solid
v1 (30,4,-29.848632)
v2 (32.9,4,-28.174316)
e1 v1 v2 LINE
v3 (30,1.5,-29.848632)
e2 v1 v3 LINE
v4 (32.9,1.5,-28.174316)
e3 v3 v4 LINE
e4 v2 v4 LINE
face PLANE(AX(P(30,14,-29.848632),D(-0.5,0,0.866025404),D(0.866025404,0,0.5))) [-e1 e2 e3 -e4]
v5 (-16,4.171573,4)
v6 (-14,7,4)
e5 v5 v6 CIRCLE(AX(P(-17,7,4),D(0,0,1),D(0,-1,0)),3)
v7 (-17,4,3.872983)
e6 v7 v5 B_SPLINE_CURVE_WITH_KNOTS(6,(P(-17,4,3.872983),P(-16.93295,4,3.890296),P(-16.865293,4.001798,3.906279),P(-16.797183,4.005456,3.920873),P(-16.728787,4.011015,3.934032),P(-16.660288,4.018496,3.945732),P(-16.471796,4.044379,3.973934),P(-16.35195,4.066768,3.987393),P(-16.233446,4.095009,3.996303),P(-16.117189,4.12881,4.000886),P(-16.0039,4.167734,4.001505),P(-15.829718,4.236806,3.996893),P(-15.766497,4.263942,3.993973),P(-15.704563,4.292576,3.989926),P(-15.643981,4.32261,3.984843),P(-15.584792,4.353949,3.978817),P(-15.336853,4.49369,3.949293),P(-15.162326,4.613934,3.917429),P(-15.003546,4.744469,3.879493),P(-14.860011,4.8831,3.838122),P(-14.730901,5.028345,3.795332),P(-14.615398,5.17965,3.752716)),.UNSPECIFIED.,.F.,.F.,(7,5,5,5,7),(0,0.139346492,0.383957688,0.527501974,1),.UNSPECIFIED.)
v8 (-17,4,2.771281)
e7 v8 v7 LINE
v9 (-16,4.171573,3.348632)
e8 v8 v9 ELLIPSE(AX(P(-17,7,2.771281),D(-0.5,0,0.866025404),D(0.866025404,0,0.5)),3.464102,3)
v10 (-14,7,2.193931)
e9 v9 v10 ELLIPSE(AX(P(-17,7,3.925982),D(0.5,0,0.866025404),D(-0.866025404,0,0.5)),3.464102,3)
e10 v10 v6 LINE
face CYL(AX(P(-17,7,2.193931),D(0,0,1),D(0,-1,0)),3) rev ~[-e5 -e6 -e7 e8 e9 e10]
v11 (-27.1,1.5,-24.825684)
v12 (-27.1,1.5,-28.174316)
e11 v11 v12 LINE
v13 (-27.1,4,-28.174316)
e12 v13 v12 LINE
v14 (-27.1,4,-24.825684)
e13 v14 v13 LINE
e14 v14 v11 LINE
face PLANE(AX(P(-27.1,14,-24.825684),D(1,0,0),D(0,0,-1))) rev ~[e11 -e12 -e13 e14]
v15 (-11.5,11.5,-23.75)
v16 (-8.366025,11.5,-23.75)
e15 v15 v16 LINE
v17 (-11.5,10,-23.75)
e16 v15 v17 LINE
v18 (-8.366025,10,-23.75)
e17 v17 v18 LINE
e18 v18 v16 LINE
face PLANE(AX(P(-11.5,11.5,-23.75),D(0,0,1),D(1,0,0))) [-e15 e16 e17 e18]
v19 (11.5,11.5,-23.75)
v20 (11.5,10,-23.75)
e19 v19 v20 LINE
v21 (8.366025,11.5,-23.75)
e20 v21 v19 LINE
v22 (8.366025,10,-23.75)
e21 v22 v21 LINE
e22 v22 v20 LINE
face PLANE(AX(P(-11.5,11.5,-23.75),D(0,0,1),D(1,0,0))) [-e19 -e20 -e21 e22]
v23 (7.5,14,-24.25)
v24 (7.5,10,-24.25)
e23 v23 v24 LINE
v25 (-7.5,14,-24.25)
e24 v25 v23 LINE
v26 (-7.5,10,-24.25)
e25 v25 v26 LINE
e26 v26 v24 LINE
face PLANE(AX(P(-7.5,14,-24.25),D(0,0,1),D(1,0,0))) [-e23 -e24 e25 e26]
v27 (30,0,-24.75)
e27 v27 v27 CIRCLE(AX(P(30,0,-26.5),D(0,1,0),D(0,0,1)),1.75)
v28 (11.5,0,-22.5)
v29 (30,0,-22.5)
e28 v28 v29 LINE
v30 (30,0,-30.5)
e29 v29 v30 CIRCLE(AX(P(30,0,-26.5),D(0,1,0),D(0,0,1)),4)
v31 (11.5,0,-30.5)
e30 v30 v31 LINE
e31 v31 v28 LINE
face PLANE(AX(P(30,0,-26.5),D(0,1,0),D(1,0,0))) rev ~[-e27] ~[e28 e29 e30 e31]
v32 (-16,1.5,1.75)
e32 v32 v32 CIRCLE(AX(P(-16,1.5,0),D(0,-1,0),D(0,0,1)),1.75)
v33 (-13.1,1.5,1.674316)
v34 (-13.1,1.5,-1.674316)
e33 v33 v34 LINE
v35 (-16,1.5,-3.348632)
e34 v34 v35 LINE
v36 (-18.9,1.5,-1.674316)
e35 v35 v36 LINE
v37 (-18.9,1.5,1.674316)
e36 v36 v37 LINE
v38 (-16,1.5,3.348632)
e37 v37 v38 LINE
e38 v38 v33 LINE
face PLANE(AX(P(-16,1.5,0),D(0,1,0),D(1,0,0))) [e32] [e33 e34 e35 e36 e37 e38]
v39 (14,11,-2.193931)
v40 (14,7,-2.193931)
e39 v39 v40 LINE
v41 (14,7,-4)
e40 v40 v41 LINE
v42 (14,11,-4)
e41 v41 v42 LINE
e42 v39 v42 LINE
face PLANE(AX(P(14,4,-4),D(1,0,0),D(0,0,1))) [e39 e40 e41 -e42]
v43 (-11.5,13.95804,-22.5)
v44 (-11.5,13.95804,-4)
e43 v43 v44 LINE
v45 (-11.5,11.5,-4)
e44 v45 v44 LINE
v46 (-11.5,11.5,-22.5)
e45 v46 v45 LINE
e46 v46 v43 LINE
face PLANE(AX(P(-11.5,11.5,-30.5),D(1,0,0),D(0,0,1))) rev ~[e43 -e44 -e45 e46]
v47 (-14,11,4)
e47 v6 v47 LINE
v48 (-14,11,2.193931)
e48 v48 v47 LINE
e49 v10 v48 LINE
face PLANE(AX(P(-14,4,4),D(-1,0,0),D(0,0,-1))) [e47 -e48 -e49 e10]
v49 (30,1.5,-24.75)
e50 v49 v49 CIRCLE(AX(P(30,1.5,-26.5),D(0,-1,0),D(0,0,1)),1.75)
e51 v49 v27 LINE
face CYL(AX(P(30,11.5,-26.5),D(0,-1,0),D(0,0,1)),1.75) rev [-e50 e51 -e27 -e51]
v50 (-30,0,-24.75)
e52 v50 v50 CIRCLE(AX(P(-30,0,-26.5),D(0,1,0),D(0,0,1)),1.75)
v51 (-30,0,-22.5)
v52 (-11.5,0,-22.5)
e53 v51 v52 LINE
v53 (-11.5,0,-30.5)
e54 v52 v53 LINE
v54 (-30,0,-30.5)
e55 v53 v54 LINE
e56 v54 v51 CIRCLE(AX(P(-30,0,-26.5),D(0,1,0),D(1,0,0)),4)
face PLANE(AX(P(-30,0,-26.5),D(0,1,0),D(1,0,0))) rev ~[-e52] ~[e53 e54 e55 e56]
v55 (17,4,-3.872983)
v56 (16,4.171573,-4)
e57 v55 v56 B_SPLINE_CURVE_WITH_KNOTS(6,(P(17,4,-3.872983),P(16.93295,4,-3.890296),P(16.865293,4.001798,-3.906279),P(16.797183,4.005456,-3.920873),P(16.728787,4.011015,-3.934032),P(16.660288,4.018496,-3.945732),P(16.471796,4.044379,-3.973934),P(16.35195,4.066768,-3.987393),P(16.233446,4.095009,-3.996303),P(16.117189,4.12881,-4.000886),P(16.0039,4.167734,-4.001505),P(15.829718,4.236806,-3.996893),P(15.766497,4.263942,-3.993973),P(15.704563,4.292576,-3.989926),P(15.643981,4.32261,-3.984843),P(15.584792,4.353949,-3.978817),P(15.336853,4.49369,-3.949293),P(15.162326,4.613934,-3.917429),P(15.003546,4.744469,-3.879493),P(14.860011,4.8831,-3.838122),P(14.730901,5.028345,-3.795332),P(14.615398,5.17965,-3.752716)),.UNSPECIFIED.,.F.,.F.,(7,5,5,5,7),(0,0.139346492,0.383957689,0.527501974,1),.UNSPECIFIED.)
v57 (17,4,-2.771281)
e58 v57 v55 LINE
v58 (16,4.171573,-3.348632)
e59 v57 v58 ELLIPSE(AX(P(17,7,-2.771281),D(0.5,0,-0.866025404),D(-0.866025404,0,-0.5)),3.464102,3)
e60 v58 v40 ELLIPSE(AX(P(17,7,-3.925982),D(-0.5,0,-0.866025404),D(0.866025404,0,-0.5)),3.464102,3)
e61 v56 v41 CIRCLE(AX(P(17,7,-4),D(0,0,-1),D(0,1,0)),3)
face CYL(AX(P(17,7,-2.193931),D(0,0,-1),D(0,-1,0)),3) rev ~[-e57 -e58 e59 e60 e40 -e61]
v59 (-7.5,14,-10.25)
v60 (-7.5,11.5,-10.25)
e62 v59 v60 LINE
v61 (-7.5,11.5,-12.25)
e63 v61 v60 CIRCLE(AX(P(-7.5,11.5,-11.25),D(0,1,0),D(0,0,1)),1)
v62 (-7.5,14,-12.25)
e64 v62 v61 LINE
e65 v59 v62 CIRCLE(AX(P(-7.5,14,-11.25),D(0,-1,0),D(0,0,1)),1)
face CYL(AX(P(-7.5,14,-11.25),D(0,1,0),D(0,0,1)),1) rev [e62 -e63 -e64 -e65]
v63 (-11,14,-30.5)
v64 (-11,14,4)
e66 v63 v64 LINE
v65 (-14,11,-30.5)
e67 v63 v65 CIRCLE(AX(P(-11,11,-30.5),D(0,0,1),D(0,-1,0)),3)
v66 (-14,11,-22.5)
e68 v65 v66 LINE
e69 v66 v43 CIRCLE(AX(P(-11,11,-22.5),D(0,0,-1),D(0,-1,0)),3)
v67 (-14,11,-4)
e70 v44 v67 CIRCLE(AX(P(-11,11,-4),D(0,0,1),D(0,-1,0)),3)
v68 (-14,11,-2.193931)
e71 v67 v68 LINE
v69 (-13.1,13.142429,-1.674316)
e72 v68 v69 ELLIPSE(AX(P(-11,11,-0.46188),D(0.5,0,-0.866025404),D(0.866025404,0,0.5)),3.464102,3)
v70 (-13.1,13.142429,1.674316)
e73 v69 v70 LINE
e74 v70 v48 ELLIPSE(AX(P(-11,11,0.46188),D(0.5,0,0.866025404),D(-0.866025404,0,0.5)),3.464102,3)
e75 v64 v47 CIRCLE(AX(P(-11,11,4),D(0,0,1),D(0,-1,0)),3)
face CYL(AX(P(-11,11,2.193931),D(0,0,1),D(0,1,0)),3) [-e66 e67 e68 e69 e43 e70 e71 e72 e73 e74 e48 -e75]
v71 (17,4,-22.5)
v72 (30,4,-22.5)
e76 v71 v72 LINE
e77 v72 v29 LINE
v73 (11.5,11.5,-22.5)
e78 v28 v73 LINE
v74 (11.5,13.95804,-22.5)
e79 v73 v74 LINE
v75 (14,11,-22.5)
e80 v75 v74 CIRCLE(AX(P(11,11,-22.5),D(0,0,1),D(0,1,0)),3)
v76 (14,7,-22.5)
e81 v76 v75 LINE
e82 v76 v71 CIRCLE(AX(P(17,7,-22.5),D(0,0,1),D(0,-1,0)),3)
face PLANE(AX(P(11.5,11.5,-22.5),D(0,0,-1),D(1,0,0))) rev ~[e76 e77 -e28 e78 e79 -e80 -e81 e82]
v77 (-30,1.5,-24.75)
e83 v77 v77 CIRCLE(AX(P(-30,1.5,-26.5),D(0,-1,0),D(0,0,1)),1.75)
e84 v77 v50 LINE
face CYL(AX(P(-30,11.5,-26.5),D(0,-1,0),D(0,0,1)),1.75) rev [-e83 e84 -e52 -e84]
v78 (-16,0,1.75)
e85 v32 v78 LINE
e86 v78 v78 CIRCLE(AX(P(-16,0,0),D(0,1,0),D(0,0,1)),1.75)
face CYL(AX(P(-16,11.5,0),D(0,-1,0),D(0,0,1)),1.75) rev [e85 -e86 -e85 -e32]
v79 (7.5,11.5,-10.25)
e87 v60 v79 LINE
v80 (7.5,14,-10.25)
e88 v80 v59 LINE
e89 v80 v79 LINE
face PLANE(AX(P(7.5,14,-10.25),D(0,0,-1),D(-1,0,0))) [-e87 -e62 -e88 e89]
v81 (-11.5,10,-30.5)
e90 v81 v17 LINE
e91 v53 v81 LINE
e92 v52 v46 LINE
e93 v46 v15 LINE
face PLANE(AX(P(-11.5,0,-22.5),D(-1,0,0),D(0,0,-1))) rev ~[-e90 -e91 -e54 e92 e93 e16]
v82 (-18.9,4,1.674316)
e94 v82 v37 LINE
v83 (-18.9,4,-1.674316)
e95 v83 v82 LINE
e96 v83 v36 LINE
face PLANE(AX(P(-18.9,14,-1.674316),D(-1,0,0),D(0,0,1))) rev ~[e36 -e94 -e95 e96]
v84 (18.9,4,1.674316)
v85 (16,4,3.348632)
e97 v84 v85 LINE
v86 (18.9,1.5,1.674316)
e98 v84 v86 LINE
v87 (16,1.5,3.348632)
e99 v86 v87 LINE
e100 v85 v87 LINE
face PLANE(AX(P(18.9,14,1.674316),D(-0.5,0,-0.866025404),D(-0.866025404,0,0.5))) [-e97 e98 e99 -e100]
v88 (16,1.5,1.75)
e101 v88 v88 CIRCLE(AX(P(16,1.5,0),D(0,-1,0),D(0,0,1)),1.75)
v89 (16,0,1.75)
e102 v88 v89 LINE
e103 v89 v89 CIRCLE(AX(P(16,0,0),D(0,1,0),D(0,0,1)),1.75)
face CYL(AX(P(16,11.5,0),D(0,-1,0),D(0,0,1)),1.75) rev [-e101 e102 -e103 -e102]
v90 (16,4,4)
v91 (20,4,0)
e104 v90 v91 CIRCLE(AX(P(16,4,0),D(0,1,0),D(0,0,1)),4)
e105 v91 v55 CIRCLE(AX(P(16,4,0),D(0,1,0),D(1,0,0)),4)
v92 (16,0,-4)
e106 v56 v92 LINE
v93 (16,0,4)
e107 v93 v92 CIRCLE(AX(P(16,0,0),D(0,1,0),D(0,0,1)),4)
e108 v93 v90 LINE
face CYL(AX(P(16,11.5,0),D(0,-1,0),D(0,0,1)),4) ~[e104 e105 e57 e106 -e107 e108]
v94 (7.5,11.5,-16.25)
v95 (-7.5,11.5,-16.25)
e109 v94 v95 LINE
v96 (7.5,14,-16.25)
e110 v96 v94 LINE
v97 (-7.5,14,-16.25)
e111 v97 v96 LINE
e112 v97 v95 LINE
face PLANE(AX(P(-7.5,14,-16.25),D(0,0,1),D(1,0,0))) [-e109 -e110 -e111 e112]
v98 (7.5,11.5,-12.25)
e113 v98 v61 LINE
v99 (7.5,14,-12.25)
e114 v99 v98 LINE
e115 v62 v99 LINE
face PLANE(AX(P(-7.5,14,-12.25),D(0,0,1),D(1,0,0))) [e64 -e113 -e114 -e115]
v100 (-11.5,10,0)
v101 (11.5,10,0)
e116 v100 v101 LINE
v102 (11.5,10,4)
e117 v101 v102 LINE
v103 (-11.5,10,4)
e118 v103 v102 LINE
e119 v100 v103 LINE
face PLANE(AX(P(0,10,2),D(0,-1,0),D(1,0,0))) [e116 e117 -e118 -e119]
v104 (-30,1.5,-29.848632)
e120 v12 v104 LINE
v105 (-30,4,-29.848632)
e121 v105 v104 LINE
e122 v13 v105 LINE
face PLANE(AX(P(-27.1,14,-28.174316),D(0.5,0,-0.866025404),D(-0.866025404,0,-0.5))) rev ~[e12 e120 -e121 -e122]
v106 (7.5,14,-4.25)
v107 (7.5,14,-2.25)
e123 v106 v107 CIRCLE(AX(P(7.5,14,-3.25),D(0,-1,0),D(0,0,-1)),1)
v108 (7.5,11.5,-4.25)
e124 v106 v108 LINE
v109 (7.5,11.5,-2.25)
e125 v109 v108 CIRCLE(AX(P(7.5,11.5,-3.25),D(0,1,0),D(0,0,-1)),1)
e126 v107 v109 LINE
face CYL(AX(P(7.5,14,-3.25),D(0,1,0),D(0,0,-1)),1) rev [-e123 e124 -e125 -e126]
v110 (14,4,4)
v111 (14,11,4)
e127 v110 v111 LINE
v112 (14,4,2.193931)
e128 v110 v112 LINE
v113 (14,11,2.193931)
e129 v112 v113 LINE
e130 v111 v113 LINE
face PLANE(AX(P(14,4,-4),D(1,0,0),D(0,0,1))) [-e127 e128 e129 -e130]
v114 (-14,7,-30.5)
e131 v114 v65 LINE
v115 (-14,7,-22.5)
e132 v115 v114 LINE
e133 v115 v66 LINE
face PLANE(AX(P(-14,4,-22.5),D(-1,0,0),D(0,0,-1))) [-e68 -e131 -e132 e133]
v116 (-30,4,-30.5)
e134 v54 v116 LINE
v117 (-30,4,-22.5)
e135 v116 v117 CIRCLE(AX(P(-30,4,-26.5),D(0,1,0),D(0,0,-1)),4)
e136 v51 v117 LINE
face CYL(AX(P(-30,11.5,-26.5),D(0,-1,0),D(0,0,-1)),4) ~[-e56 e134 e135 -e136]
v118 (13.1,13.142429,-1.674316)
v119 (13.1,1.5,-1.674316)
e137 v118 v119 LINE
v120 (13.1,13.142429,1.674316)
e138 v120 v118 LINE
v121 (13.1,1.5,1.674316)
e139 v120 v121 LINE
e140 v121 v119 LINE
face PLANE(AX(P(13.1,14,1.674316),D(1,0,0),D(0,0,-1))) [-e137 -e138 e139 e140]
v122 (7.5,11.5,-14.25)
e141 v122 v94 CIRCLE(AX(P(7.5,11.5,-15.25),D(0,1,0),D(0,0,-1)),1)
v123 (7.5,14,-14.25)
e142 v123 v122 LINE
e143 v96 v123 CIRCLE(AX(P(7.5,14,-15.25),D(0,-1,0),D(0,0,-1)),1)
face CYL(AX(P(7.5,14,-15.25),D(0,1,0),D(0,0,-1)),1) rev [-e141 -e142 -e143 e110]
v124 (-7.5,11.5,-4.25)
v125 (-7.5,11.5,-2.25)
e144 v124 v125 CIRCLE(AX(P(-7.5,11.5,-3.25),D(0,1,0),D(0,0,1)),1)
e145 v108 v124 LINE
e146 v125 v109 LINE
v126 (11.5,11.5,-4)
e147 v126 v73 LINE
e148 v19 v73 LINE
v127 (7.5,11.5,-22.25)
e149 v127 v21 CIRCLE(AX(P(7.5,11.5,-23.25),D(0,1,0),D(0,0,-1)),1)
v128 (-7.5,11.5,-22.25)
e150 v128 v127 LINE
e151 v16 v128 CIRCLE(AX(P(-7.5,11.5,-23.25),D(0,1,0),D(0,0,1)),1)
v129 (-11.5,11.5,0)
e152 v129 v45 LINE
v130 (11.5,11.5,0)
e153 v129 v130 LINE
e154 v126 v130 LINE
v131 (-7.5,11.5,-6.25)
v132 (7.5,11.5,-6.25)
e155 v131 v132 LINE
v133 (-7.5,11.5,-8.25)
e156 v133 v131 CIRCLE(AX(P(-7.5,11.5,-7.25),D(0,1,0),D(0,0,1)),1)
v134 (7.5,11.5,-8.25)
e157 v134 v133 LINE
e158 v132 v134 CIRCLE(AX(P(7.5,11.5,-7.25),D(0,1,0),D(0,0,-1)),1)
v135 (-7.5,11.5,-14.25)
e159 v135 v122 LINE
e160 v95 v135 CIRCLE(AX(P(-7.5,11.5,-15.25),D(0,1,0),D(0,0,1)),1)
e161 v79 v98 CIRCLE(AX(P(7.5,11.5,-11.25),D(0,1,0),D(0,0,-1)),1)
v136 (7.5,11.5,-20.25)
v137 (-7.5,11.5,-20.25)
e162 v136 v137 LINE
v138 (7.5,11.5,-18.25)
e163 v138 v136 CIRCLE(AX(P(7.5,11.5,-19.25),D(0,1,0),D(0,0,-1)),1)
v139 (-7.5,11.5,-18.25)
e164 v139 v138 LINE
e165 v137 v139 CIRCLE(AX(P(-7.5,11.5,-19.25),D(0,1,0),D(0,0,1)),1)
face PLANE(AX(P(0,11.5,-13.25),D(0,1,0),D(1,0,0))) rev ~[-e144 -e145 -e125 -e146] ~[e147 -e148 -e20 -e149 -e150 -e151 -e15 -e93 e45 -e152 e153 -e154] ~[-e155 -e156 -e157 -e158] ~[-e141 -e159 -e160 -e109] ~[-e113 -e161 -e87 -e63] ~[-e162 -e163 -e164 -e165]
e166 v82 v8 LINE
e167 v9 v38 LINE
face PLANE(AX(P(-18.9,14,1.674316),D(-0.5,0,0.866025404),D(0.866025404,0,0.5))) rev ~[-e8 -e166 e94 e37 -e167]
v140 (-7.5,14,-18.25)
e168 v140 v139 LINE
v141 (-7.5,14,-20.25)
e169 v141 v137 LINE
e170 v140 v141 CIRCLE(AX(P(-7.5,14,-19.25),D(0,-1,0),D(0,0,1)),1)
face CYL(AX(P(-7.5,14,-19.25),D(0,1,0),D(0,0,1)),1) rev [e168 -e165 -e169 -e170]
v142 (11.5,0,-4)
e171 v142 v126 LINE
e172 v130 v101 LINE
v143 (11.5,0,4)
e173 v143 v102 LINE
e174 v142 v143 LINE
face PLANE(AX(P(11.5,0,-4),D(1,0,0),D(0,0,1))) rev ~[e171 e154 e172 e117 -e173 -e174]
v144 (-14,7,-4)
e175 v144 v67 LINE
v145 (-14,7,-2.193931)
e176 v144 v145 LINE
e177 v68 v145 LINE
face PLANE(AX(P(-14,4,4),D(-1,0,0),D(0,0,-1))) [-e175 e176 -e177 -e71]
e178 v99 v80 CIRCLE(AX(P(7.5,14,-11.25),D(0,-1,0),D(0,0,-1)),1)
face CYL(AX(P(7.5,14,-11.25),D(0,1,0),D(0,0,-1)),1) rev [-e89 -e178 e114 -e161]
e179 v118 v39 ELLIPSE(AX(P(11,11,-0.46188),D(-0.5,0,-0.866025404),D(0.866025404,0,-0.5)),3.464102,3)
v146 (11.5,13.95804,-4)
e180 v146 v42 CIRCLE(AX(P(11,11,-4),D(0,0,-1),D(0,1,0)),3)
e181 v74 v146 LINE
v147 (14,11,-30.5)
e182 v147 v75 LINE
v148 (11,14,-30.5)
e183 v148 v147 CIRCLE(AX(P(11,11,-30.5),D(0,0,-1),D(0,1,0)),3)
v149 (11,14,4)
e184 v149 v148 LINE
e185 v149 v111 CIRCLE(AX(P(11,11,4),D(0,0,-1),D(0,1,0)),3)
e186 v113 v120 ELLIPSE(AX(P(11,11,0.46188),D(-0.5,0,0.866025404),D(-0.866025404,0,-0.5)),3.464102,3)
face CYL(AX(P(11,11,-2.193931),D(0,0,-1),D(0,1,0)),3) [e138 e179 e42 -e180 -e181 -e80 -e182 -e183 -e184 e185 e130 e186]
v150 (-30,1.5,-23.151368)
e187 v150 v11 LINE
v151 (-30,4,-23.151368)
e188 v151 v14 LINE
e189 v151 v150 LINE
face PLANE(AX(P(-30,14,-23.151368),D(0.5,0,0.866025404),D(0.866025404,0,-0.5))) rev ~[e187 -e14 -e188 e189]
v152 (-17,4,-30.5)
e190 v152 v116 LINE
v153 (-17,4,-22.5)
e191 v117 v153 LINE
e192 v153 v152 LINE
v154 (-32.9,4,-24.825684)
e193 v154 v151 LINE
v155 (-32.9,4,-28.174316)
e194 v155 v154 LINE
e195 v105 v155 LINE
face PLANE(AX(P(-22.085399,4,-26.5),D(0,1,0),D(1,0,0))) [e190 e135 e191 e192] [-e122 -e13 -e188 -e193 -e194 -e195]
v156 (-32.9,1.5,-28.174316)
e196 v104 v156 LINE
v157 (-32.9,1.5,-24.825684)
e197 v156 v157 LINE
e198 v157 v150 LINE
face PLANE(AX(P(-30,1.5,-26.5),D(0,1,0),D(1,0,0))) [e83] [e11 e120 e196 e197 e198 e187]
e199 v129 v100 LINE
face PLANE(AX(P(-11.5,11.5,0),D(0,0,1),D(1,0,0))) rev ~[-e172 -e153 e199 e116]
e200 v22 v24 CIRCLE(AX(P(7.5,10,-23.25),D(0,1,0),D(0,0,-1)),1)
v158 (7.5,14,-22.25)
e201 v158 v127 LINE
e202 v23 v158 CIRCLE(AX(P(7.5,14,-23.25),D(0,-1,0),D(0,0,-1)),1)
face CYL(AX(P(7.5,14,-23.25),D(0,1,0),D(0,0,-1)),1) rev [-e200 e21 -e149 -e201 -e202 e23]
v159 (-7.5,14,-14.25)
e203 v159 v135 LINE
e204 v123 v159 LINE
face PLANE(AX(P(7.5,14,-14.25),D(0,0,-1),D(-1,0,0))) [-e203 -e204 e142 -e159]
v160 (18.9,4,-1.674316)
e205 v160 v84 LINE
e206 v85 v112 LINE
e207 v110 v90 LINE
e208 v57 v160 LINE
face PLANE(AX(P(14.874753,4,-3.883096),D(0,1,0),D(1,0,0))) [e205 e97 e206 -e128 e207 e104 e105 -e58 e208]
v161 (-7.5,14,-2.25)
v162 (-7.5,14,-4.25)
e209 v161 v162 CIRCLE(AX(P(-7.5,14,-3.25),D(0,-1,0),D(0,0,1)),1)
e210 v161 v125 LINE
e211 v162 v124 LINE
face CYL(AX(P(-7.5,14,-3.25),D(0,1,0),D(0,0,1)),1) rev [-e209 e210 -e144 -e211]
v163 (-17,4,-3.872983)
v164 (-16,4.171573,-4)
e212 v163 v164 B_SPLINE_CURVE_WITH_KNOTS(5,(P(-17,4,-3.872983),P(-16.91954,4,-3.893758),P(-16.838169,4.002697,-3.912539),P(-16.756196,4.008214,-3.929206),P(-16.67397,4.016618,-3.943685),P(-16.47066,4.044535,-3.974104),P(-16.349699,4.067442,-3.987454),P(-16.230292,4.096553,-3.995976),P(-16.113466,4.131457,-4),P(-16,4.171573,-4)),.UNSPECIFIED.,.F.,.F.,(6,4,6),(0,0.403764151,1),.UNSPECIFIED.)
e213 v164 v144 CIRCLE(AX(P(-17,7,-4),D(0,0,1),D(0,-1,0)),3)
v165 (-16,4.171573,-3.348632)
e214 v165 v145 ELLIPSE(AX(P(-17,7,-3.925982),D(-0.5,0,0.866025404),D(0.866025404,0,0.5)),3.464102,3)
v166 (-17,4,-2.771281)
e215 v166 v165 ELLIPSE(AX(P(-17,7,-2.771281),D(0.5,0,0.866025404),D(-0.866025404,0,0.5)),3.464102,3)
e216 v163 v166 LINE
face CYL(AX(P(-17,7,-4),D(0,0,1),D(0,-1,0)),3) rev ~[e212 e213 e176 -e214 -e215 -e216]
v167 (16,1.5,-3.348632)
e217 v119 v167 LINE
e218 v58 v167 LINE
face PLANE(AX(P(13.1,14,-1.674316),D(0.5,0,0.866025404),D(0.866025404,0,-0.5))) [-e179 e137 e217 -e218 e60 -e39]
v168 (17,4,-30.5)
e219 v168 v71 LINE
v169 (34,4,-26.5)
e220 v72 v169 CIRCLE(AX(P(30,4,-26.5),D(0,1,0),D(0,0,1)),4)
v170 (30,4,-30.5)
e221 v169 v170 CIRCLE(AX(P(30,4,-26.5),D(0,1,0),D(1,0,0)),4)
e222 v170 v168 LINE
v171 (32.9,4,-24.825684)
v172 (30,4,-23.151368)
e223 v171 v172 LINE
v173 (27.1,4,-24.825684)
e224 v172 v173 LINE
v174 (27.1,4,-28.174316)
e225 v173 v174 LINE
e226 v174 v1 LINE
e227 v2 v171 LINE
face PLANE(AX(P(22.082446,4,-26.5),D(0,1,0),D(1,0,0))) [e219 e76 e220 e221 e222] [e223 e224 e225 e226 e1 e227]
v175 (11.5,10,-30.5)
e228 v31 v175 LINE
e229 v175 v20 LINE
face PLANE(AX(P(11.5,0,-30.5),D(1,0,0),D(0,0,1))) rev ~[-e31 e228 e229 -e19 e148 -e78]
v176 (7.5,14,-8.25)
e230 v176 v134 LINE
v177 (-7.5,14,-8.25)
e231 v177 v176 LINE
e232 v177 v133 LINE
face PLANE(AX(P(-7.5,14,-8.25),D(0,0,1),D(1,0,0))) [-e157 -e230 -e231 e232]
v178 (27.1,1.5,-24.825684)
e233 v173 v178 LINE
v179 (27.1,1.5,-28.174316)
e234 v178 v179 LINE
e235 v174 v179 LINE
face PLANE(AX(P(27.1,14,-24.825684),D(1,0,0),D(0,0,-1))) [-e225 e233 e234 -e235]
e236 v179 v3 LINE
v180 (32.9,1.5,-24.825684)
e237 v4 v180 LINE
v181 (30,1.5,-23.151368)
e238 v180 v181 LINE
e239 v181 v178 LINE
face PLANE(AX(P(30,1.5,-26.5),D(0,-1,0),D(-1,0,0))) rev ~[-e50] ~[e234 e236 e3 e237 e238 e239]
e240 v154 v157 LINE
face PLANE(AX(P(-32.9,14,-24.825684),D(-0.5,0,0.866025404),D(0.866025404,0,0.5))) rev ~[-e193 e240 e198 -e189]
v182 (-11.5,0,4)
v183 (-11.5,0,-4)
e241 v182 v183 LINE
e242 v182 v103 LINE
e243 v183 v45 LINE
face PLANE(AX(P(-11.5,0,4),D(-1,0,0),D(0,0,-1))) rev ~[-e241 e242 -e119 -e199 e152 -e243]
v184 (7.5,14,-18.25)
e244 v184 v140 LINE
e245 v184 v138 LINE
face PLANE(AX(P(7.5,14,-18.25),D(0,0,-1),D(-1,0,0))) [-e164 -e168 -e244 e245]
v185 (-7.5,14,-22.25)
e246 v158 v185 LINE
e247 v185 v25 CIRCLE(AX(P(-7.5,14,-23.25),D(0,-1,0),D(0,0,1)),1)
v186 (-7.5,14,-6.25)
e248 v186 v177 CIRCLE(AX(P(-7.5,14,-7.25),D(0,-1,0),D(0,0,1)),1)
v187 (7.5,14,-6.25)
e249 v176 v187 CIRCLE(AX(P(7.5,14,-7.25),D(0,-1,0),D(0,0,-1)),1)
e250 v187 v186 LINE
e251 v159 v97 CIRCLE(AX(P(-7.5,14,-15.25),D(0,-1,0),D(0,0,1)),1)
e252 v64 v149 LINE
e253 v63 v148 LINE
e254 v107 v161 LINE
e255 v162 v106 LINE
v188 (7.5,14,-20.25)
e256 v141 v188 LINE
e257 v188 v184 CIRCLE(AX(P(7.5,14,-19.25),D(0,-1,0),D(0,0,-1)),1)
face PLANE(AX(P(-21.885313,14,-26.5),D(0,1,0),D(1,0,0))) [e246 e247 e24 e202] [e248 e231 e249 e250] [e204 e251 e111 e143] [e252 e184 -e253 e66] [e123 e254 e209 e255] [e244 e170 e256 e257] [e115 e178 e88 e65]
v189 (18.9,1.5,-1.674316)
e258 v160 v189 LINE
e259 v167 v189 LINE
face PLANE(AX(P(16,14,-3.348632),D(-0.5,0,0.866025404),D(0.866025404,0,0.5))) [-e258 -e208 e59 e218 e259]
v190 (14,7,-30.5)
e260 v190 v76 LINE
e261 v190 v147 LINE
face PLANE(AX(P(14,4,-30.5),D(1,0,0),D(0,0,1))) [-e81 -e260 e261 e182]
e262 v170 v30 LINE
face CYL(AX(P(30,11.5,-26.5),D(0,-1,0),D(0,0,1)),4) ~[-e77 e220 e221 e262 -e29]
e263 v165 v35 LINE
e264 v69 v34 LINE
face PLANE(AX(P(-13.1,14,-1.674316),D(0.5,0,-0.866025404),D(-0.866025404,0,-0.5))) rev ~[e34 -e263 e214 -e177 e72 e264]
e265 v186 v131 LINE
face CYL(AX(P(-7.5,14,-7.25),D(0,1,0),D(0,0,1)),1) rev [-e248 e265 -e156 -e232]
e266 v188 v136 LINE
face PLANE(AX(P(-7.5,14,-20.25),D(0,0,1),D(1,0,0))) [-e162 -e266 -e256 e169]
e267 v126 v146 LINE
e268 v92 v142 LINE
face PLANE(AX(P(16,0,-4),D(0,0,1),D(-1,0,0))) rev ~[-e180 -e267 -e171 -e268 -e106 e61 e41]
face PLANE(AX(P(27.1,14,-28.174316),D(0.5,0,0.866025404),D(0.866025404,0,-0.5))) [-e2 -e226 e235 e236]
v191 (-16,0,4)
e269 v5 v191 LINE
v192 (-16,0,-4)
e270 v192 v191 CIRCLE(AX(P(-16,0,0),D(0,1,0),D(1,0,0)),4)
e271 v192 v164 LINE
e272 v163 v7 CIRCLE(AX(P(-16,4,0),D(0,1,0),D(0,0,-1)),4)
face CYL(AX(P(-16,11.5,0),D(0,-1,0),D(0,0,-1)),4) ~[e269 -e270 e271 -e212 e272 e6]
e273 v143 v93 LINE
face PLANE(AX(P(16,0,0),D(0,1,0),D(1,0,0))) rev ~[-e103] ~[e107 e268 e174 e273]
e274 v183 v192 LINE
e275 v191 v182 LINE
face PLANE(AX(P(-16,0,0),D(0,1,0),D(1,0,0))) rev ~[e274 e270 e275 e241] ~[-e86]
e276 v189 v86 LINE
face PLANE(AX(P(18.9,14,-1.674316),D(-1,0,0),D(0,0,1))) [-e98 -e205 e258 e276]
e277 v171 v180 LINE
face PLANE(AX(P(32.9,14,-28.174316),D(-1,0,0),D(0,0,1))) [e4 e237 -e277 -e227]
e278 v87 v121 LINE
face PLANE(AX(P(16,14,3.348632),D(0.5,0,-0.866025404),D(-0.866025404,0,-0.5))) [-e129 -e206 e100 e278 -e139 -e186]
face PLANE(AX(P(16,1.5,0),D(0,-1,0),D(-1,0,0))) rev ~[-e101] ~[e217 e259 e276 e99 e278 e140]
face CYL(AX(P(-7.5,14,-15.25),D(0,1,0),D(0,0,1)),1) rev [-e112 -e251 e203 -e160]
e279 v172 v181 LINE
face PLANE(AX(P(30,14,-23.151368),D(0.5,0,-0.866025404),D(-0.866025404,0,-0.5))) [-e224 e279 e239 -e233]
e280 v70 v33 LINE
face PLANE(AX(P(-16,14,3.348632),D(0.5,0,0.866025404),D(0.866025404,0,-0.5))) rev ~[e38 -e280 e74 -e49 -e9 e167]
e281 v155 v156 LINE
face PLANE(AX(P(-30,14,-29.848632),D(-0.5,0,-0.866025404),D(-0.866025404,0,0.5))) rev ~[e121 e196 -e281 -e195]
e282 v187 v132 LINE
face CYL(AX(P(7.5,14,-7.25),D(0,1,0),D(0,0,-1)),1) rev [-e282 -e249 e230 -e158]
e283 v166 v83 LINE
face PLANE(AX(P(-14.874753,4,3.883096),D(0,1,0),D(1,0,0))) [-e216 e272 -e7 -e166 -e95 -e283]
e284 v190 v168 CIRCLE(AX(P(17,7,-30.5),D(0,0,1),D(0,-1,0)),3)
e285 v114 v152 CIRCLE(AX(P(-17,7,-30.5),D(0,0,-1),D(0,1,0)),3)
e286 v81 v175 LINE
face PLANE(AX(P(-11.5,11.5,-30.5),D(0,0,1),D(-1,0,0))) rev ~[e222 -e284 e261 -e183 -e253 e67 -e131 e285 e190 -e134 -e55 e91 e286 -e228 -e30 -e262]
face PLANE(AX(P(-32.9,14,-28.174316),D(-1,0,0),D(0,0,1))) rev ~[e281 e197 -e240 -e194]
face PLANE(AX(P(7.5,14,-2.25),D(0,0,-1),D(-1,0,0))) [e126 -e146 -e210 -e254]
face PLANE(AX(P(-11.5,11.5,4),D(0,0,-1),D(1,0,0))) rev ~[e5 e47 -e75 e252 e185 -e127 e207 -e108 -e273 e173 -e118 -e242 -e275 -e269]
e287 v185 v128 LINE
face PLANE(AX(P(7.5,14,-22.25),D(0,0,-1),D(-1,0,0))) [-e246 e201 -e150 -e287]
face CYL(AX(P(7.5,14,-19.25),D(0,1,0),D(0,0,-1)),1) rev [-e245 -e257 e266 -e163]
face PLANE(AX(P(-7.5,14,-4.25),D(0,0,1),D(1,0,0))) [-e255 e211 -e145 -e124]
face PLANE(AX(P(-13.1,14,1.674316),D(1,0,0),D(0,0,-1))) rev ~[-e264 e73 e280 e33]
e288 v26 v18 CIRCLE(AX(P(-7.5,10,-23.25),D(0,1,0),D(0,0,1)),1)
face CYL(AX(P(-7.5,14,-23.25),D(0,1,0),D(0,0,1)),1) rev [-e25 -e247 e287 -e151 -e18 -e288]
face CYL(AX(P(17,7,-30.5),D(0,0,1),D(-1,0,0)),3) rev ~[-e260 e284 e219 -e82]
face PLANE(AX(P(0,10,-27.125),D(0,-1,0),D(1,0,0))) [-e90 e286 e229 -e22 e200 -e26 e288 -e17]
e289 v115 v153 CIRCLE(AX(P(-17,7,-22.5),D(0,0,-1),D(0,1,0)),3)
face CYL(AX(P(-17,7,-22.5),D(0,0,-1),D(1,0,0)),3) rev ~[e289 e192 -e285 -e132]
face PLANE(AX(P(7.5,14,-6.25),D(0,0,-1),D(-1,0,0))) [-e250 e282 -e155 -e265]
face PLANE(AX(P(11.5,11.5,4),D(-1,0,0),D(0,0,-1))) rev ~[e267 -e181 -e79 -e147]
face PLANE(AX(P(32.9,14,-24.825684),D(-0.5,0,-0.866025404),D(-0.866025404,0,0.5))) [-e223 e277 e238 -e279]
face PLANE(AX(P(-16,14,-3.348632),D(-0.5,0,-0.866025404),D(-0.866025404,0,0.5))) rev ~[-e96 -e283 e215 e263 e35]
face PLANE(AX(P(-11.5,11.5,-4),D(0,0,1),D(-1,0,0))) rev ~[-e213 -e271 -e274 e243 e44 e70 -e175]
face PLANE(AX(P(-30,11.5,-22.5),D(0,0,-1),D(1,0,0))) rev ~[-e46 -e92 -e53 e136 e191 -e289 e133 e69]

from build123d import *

# Parameters (mm, degrees)
SKETCH1_R           = 4
SKETCH1_R_2         = 1.75
BOSS_EXTRUDE1_DEPTH = 11.5
SKETCH2_R           = 1.75
BOSS_EXTRUDE2_DEPTH = 2.5
CUT_EXTRUDE1_START  = -10
SKETCH3_R           = 1.75
CUT_EXTRUDE1_DEPTH  = 10
CUT_EXTRUDE2_DEPTH  = 12.5
SKETCH5_W           = 23
SKETCH5_H           = 4
SKETCH5_H_2         = 6.75
BOSS_EXTRUDE3_DEPTH = 1.5
FILLET1_R           = 3
CUT_EXTRUDE3_REACH  = 49.773


with BuildPart() as part:
    # Sketch1 → Boss-Extrude1 (new body)
    # profile 1 of 8: a face of its own
    with BuildSketch(Plane(origin=(0, 0, 0), x_dir=(1, 0, 0), z_dir=(0, 1, 0))):
        with Locations((-30, 26.5)):
            Circle(SKETCH1_R)
        with Locations(Location((-30, 26.5, 0), (0, 0, 270))):
            Circle(SKETCH1_R_2, mode=Mode.SUBTRACT)
    # profile 2 of 8: a face of its own
    with BuildSketch(Plane(origin=(0, 0, 0), x_dir=(1, 0, 0), z_dir=(0, 1, 0))):
        with BuildLine():
            Line((-30, 22.5), (-11.5, 22.5))
            Line((-11.5, 22.5), (-11.5, 30.5))
            Line((-11.5, 30.5), (-30, 30.5))
            ThreePointArc((-30, 30.5), (-27.171572875, 29.328427125), (-26, 26.5))
            ThreePointArc((-26, 26.5), (-27.171572875, 23.671572875), (-30, 22.5))
        make_face()
    # profile 3 of 8: a face of its own
    with BuildSketch(Plane(origin=(0, 0, 0), x_dir=(1, 0, 0), z_dir=(0, 1, 0))):
        with BuildLine():
            Line((11.5, 30.5), (11.5, 22.5))
            Line((11.5, 22.5), (30, 22.5))
            ThreePointArc((30, 22.5), (26, 26.5), (30, 30.5))
            Line((30, 30.5), (11.5, 30.5))
        make_face()
    # profile 4 of 8: a face of its own
    with BuildSketch(Plane(origin=(0, 0, 0), x_dir=(1, 0, 0), z_dir=(0, 1, 0))):
        with Locations((30, 26.5)):
            Circle(SKETCH1_R)
        with Locations(Location((30, 26.5, 0), (0, 0, 270))):
            Circle(SKETCH1_R_2, mode=Mode.SUBTRACT)
    # profile 5 of 8: a face of its own
    with BuildSketch(Plane(origin=(0, 0, 0), x_dir=(1, 0, 0), z_dir=(0, 1, 0))):
        with Locations((16, 0)):
            Circle(SKETCH1_R)
        with Locations(Location((16, 0, 0), (0, 0, 270))):
            Circle(SKETCH1_R_2, mode=Mode.SUBTRACT)
    # profile 6 of 8: a face of its own
    with BuildSketch(Plane(origin=(0, 0, 0), x_dir=(1, 0, 0), z_dir=(0, 1, 0))):
        with BuildLine():
            Line((11.5, 4), (11.5, -4))
            Line((11.5, -4), (16, -4))
            ThreePointArc((16, -4), (12, 0), (16, 4))
            Line((16, 4), (11.5, 4))
        make_face()
    # profile 7 of 8: a face of its own
    with BuildSketch(Plane(origin=(0, 0, 0), x_dir=(1, 0, 0), z_dir=(0, 1, 0))):
        with BuildLine():
            Line((-16, -4), (-11.5, -4))
            Line((-11.5, -4), (-11.5, 4))
            Line((-11.5, 4), (-16, 4))
            ThreePointArc((-16, 4), (-13.171572875, 2.828427125), (-12, 0))
            ThreePointArc((-12, 0), (-13.171572875, -2.828427125), (-16, -4))
        make_face()
    # profile 8 of 8: a face of its own
    with BuildSketch(Plane(origin=(0, 0, 0), x_dir=(1, 0, 0), z_dir=(0, 1, 0))):
        with Locations((-16, 0)):
            Circle(SKETCH1_R)
        with Locations(Location((-16, 0, 0), (0, 0, 270))):
            Circle(SKETCH1_R_2, mode=Mode.SUBTRACT)
    extrude(amount=BOSS_EXTRUDE1_DEPTH)

    # Sketch2 → Boss-Extrude2 (add)
    # profile 1 of 5: a face of its own
    with BuildSketch(Plane(origin=(0, 11.5, 0), x_dir=(1, 0, 0), z_dir=(0, 1, 0))):
        with BuildLine():
            Line((-11.5, 30.5), (-30, 30.5))
            ThreePointArc((-30, 30.5), (-34, 26.5), (-30, 22.5))
            Line((-30, 22.5), (-11.5, 22.5))
            Line((-11.5, 22.5), (-11.5, 30.5))
        make_face()
        with Locations(Location((-30, 26.5, 0), (0, 0, 270))):
            Circle(SKETCH2_R, mode=Mode.SUBTRACT)
    # profile 2 of 5: a face of its own
    with BuildSketch(Plane(origin=(0, 11.5, 0), x_dir=(1, 0, 0), z_dir=(0, 1, 0))):
        Polygon((11.5, 30.5), (-11.5, 30.5), (-11.5, 22.5), (-11.5, 4), (-11.5, -4), (11.5, -4), (11.5, 4), (11.5, 22.5), align=None)
    # profile 3 of 5: a face of its own
    with BuildSketch(Plane(origin=(0, 11.5, 0), x_dir=(1, 0, 0), z_dir=(0, 1, 0))):
        with BuildLine():
            Line((30, 30.5), (11.5, 30.5))
            Line((11.5, 30.5), (11.5, 22.5))
            Line((11.5, 22.5), (30, 22.5))
            ThreePointArc((30, 22.5), (34, 26.5), (30, 30.5))
        make_face()
        with Locations(Location((30, 26.5, 0), (0, 0, 270))):
            Circle(SKETCH2_R, mode=Mode.SUBTRACT)
    # profile 4 of 5: a face of its own
    with BuildSketch(Plane(origin=(0, 11.5, 0), x_dir=(1, 0, 0), z_dir=(0, 1, 0))):
        with BuildLine():
            Line((16, 4), (11.5, 4))
            Line((11.5, 4), (11.5, -4))
            Line((11.5, -4), (16, -4))
            ThreePointArc((16, -4), (20, 0), (16, 4))
        make_face()
        with Locations(Location((16, 0, 0), (0, 0, 270))):
            Circle(SKETCH2_R, mode=Mode.SUBTRACT)
    # profile 5 of 5: a face of its own
    with BuildSketch(Plane(origin=(0, 11.5, 0), x_dir=(1, 0, 0), z_dir=(0, 1, 0))):
        with BuildLine():
            Line((-11.5, -4), (-11.5, 4))
            Line((-11.5, 4), (-16, 4))
            ThreePointArc((-16, 4), (-20, 0), (-16, -4))
            Line((-16, -4), (-11.5, -4))
        make_face()
        with Locations(Location((-16, 0, 0), (0, 0, 270))):
            Circle(SKETCH2_R, mode=Mode.SUBTRACT)
    extrude(amount=BOSS_EXTRUDE2_DEPTH)

    # Sketch3 → Cut-Extrude1 (cut)
    # profile 1 of 10: a face of its own
    with BuildSketch(Plane(origin=(0, 14, 0), x_dir=(1, 0, 0), z_dir=(0, 1, 0)).offset(CUT_EXTRUDE1_START)):
        with BuildLine():
            ThreePointArc((-26, 26.5), (-27.171572875, 29.328427125), (-30, 30.5))
            ThreePointArc((-30, 30.5), (-34, 26.5), (-30, 22.5))
            ThreePointArc((-30, 22.5), (-27.171572875, 23.671572875), (-26, 26.5))
        make_face()
        with Locations(Location((-30, 26.5, 0), (0, 0, 270))):
            Circle(SKETCH3_R, mode=Mode.SUBTRACT)
    # profile 2 of 10: a face of its own
    with BuildSketch(Plane(origin=(0, 14, 0), x_dir=(1, 0, 0), z_dir=(0, 1, 0)).offset(CUT_EXTRUDE1_START)):
        with BuildLine():
            Line((-14, 22.5), (-14, 30.5))
            Line((-14, 30.5), (-30, 30.5))
            ThreePointArc((-30, 30.5), (-27.171572875, 29.328427125), (-26, 26.5))
            ThreePointArc((-26, 26.5), (-27.171572875, 23.671572875), (-30, 22.5))
            Line((-30, 22.5), (-14, 22.5))
        make_face()
    # profile 3 of 10: a face of its own
    with BuildSketch(Plane(origin=(0, 14, 0), x_dir=(1, 0, 0), z_dir=(0, 1, 0)).offset(CUT_EXTRUDE1_START)):
        with BuildLine():
            Line((30, 30.5), (14, 30.5))
            Line((14, 30.5), (14, 22.5))
            Line((14, 22.5), (30, 22.5))
            ThreePointArc((30, 22.5), (26, 26.5), (30, 30.5))
        make_face()
    # profile 4 of 10: a face of its own
    with BuildSketch(Plane(origin=(0, 14, 0), x_dir=(1, 0, 0), z_dir=(0, 1, 0)).offset(CUT_EXTRUDE1_START)):
        with BuildLine():
            ThreePointArc((34, 26.5), (32.828427125, 29.328427125), (30, 30.5))
            ThreePointArc((30, 30.5), (26, 26.5), (30, 22.5))
            ThreePointArc((30, 22.5), (32.828427125, 23.671572875), (34, 26.5))
        make_face()
        with Locations(Location((30, 26.5, 0), (0, 0, 270))):
            Circle(SKETCH3_R, mode=Mode.SUBTRACT)
    # profile 5 of 10: a face of its own
    with BuildSketch(Plane(origin=(0, 14, 0), x_dir=(1, 0, 0), z_dir=(0, 1, 0)).offset(CUT_EXTRUDE1_START)):
        with BuildLine():
            ThreePointArc((16, 4), (14.96472382, 3.863703305), (14, 3.464101615))
            Line((14, 3.464101615), (14, -3.464101615))
            ThreePointArc((14, -3.464101615), (14.96472382, -3.863703305), (16, -4))
            ThreePointArc((16, -4), (18.828427125, -2.828427125), (20, 0))
            ThreePointArc((20, 0), (18.828427125, 2.828427125), (16, 4))
        make_face()
        with Locations(Location((16, 0, 0), (0, 0, 270))):
            Circle(SKETCH3_R, mode=Mode.SUBTRACT)
    # profile 6 of 10: a face of its own
    with BuildSketch(Plane(origin=(0, 14, 0), x_dir=(1, 0, 0), z_dir=(0, 1, 0)).offset(CUT_EXTRUDE1_START)):
        with BuildLine():
            Line((-14, -3.464101615), (-14, 3.464101615))
            ThreePointArc((-14, 3.464101615), (-14.96472382, 3.863703305), (-16, 4))
            ThreePointArc((-16, 4), (-20, 0), (-16, -4))
            ThreePointArc((-16, -4), (-14.96472382, -3.863703305), (-14, -3.464101615))
        make_face()
        with Locations(Location((-16, 0, 0), (0, 0, 270))):
            Circle(SKETCH3_R, mode=Mode.SUBTRACT)
    # profile 7 of 10: a face of its own
    with BuildSketch(Plane(origin=(0, 14, 0), x_dir=(1, 0, 0), z_dir=(0, 1, 0)).offset(CUT_EXTRUDE1_START)):
        with BuildLine():
            Line((-14, -4), (-14, -3.464101615))
            ThreePointArc((-14, -3.464101615), (-14.96472382, -3.863703305), (-16, -4))
            Line((-16, -4), (-14, -4))
        make_face()
    # profile 8 of 10: a face of its own
    with BuildSketch(Plane(origin=(0, 14, 0), x_dir=(1, 0, 0), z_dir=(0, 1, 0)).offset(CUT_EXTRUDE1_START)):
        with BuildLine():
            Line((-14, 3.464101615), (-14, 4))
            Line((-14, 4), (-16, 4))
            ThreePointArc((-16, 4), (-14.96472382, 3.863703305), (-14, 3.464101615))
        make_face()
    # profile 9 of 10: a face of its own
    with BuildSketch(Plane(origin=(0, 14, 0), x_dir=(1, 0, 0), z_dir=(0, 1, 0)).offset(CUT_EXTRUDE1_START)):
        with BuildLine():
            Line((16, 4), (14, 4))
            Line((14, 4), (14, 3.464101615))
            ThreePointArc((14, 3.464101615), (14.96472382, 3.863703305), (16, 4))
        make_face()
    # profile 10 of 10: a face of its own
    with BuildSketch(Plane(origin=(0, 14, 0), x_dir=(1, 0, 0), z_dir=(0, 1, 0)).offset(CUT_EXTRUDE1_START)):
        with BuildLine():
            ThreePointArc((16, -4), (14.96472382, -3.863703305), (14, -3.464101615))
            Line((14, -3.464101615), (14, -4))
            Line((14, -4), (16, -4))
        make_face()
    extrude(amount=CUT_EXTRUDE1_DEPTH, mode=Mode.SUBTRACT)

    # Sketch4 → Cut-Extrude2 (cut)
    with BuildSketch(Plane(origin=(0, 14, 0), x_dir=(1, 0, 0), z_dir=(0, 1, 0))):
        Polygon((-27.1, 28.174315781), (-30, 29.848631561), (-32.9, 28.174315781), (-32.9, 24.825684219), (-30, 23.151368439), (-27.1, 24.825684219), align=None)
        Polygon((13.1, 1.674315781), (16, 3.348631561), (18.9, 1.674315781), (18.9, -1.674315781), (16, -3.348631561), (13.1, -1.674315781), align=None)
        Polygon((-13.1, 1.674315781), (-16, 3.348631561), (-18.9, 1.674315781), (-18.9, -1.674315781), (-16, -3.348631561), (-13.1, -1.674315781), align=None)
        Polygon((30, 23.151368439), (27.1, 24.825684219), (27.1, 28.174315781), (30, 29.848631561), (32.9, 28.174315781), (32.9, 24.825684219), align=None)
    extrude(amount=-CUT_EXTRUDE2_DEPTH, mode=Mode.SUBTRACT)

    # Sketch5 → Boss-Extrude3 (add)
    with BuildSketch(Plane.XZ.offset(-11.5)):
        with Locations((0, 2)):
            Rectangle(SKETCH5_W, SKETCH5_H)
        with Locations((0, -27.125)):
            Rectangle(SKETCH5_W, SKETCH5_H_2)
    extrude(amount=BOSS_EXTRUDE3_DEPTH)

    # Fillet1
    fillet1_edges = [part.edges().sort_by_distance(p)[0] for p in [
        (14, 4, -26.5),
        (14, 14, -3.096965511),
        (14, 4, -3.096965511),
        (-14, 14, 3.096965511),
        (-14, 4, 3.096965511),
        (-14, 4, -3.096965511),
        (-14, 4, -26.5),
    ]]
    fillet(fillet1_edges, radius=FILLET1_R)

    # Sketch6 → Cut-Extrude3 (cut, up to next)
    with BuildSketch(Plane(origin=(0, 14, 0), x_dir=(1, 0, 0), z_dir=(0, 1, 0)), mode=Mode.PRIVATE) as cut_extrude3_sk1:
        with BuildLine():
            Line((-7.5, 24.25), (7.5, 24.25))
            ThreePointArc((7.5, 24.25), (8.5, 23.25), (7.5, 22.25))
            Line((7.5, 22.25), (-7.5, 22.25))
            ThreePointArc((-7.5, 22.25), (-8.5, 23.25), (-7.5, 24.25))
        make_face()
    cut_extrude3_tool1 = extrude(cut_extrude3_sk1.sketch, amount=-CUT_EXTRUDE3_REACH, mode=Mode.PRIVATE) & part.part
    # Sketch6 → Cut-Extrude3 (cut, up to next)
    with BuildSketch(Plane(origin=(0, 14, 0), x_dir=(1, 0, 0), z_dir=(0, 1, 0)), mode=Mode.PRIVATE) as cut_extrude3_sk2:
        with BuildLine():
            Line((-7.5, 20.25), (7.5, 20.25))
            ThreePointArc((7.5, 20.25), (8.5, 19.25), (7.5, 18.25))
            Line((7.5, 18.25), (-7.5, 18.25))
            ThreePointArc((-7.5, 18.25), (-8.5, 19.25), (-7.5, 20.25))
        make_face()
    cut_extrude3_tool2 = extrude(cut_extrude3_sk2.sketch, amount=-CUT_EXTRUDE3_REACH, mode=Mode.PRIVATE) & part.part
    # Sketch6 → Cut-Extrude3 (cut, up to next)
    with BuildSketch(Plane(origin=(0, 14, 0), x_dir=(1, 0, 0), z_dir=(0, 1, 0)), mode=Mode.PRIVATE) as cut_extrude3_sk3:
        with BuildLine():
            Line((-7.5, 16.25), (7.5, 16.25))
            ThreePointArc((7.5, 16.25), (8.5, 15.25), (7.5, 14.25))
            Line((7.5, 14.25), (-7.5, 14.25))
            ThreePointArc((-7.5, 14.25), (-8.5, 15.25), (-7.5, 16.25))
        make_face()
    cut_extrude3_tool3 = extrude(cut_extrude3_sk3.sketch, amount=-CUT_EXTRUDE3_REACH, mode=Mode.PRIVATE) & part.part
    # Sketch6 → Cut-Extrude3 (cut, up to next)
    with BuildSketch(Plane(origin=(0, 14, 0), x_dir=(1, 0, 0), z_dir=(0, 1, 0)), mode=Mode.PRIVATE) as cut_extrude3_sk4:
        with BuildLine():
            Line((-7.5, 12.25), (7.5, 12.25))
            ThreePointArc((7.5, 12.25), (8.5, 11.25), (7.5, 10.25))
            Line((7.5, 10.25), (-7.5, 10.25))
            ThreePointArc((-7.5, 10.25), (-8.5, 11.25), (-7.5, 12.25))
        make_face()
    cut_extrude3_tool4 = extrude(cut_extrude3_sk4.sketch, amount=-CUT_EXTRUDE3_REACH, mode=Mode.PRIVATE) & part.part
    # Sketch6 → Cut-Extrude3 (cut, up to next)
    with BuildSketch(Plane(origin=(0, 14, 0), x_dir=(1, 0, 0), z_dir=(0, 1, 0)), mode=Mode.PRIVATE) as cut_extrude3_sk5:
        with BuildLine():
            Line((-7.5, 8.25), (7.5, 8.25))
            ThreePointArc((7.5, 8.25), (8.5, 7.25), (7.5, 6.25))
            Line((7.5, 6.25), (-7.5, 6.25))
            ThreePointArc((-7.5, 6.25), (-8.5, 7.25), (-7.5, 8.25))
        make_face()
    cut_extrude3_tool5 = extrude(cut_extrude3_sk5.sketch, amount=-CUT_EXTRUDE3_REACH, mode=Mode.PRIVATE) & part.part
    # Sketch6 → Cut-Extrude3 (cut, up to next)
    with BuildSketch(Plane(origin=(0, 14, 0), x_dir=(1, 0, 0), z_dir=(0, 1, 0)), mode=Mode.PRIVATE) as cut_extrude3_sk6:
        with BuildLine():
            Line((-7.5, 4.25), (7.5, 4.25))
            ThreePointArc((7.5, 4.25), (8.5, 3.25), (7.5, 2.25))
            Line((7.5, 2.25), (-7.5, 2.25))
            ThreePointArc((-7.5, 2.25), (-8.5, 3.25), (-7.5, 4.25))
        make_face()
    cut_extrude3_tool6 = extrude(cut_extrude3_sk6.sketch, amount=-CUT_EXTRUDE3_REACH, mode=Mode.PRIVATE) & part.part
    add(cut_extrude3_tool1.solids().sort_by_distance((0, 14, -23.25))[0], mode=Mode.SUBTRACT)
    add(cut_extrude3_tool2.solids().sort_by_distance((0, 14, -19.25))[0], mode=Mode.SUBTRACT)
    add(cut_extrude3_tool3.solids().sort_by_distance((0, 14, -15.25))[0], mode=Mode.SUBTRACT)
    add(cut_extrude3_tool4.solids().sort_by_distance((0, 14, -11.25))[0], mode=Mode.SUBTRACT)
    add(cut_extrude3_tool5.solids().sort_by_distance((0, 14, -7.25))[0], mode=Mode.SUBTRACT)
    add(cut_extrude3_tool6.solids().sort_by_distance((0, 14, -3.25))[0], mode=Mode.SUBTRACT)


solid = part.part
